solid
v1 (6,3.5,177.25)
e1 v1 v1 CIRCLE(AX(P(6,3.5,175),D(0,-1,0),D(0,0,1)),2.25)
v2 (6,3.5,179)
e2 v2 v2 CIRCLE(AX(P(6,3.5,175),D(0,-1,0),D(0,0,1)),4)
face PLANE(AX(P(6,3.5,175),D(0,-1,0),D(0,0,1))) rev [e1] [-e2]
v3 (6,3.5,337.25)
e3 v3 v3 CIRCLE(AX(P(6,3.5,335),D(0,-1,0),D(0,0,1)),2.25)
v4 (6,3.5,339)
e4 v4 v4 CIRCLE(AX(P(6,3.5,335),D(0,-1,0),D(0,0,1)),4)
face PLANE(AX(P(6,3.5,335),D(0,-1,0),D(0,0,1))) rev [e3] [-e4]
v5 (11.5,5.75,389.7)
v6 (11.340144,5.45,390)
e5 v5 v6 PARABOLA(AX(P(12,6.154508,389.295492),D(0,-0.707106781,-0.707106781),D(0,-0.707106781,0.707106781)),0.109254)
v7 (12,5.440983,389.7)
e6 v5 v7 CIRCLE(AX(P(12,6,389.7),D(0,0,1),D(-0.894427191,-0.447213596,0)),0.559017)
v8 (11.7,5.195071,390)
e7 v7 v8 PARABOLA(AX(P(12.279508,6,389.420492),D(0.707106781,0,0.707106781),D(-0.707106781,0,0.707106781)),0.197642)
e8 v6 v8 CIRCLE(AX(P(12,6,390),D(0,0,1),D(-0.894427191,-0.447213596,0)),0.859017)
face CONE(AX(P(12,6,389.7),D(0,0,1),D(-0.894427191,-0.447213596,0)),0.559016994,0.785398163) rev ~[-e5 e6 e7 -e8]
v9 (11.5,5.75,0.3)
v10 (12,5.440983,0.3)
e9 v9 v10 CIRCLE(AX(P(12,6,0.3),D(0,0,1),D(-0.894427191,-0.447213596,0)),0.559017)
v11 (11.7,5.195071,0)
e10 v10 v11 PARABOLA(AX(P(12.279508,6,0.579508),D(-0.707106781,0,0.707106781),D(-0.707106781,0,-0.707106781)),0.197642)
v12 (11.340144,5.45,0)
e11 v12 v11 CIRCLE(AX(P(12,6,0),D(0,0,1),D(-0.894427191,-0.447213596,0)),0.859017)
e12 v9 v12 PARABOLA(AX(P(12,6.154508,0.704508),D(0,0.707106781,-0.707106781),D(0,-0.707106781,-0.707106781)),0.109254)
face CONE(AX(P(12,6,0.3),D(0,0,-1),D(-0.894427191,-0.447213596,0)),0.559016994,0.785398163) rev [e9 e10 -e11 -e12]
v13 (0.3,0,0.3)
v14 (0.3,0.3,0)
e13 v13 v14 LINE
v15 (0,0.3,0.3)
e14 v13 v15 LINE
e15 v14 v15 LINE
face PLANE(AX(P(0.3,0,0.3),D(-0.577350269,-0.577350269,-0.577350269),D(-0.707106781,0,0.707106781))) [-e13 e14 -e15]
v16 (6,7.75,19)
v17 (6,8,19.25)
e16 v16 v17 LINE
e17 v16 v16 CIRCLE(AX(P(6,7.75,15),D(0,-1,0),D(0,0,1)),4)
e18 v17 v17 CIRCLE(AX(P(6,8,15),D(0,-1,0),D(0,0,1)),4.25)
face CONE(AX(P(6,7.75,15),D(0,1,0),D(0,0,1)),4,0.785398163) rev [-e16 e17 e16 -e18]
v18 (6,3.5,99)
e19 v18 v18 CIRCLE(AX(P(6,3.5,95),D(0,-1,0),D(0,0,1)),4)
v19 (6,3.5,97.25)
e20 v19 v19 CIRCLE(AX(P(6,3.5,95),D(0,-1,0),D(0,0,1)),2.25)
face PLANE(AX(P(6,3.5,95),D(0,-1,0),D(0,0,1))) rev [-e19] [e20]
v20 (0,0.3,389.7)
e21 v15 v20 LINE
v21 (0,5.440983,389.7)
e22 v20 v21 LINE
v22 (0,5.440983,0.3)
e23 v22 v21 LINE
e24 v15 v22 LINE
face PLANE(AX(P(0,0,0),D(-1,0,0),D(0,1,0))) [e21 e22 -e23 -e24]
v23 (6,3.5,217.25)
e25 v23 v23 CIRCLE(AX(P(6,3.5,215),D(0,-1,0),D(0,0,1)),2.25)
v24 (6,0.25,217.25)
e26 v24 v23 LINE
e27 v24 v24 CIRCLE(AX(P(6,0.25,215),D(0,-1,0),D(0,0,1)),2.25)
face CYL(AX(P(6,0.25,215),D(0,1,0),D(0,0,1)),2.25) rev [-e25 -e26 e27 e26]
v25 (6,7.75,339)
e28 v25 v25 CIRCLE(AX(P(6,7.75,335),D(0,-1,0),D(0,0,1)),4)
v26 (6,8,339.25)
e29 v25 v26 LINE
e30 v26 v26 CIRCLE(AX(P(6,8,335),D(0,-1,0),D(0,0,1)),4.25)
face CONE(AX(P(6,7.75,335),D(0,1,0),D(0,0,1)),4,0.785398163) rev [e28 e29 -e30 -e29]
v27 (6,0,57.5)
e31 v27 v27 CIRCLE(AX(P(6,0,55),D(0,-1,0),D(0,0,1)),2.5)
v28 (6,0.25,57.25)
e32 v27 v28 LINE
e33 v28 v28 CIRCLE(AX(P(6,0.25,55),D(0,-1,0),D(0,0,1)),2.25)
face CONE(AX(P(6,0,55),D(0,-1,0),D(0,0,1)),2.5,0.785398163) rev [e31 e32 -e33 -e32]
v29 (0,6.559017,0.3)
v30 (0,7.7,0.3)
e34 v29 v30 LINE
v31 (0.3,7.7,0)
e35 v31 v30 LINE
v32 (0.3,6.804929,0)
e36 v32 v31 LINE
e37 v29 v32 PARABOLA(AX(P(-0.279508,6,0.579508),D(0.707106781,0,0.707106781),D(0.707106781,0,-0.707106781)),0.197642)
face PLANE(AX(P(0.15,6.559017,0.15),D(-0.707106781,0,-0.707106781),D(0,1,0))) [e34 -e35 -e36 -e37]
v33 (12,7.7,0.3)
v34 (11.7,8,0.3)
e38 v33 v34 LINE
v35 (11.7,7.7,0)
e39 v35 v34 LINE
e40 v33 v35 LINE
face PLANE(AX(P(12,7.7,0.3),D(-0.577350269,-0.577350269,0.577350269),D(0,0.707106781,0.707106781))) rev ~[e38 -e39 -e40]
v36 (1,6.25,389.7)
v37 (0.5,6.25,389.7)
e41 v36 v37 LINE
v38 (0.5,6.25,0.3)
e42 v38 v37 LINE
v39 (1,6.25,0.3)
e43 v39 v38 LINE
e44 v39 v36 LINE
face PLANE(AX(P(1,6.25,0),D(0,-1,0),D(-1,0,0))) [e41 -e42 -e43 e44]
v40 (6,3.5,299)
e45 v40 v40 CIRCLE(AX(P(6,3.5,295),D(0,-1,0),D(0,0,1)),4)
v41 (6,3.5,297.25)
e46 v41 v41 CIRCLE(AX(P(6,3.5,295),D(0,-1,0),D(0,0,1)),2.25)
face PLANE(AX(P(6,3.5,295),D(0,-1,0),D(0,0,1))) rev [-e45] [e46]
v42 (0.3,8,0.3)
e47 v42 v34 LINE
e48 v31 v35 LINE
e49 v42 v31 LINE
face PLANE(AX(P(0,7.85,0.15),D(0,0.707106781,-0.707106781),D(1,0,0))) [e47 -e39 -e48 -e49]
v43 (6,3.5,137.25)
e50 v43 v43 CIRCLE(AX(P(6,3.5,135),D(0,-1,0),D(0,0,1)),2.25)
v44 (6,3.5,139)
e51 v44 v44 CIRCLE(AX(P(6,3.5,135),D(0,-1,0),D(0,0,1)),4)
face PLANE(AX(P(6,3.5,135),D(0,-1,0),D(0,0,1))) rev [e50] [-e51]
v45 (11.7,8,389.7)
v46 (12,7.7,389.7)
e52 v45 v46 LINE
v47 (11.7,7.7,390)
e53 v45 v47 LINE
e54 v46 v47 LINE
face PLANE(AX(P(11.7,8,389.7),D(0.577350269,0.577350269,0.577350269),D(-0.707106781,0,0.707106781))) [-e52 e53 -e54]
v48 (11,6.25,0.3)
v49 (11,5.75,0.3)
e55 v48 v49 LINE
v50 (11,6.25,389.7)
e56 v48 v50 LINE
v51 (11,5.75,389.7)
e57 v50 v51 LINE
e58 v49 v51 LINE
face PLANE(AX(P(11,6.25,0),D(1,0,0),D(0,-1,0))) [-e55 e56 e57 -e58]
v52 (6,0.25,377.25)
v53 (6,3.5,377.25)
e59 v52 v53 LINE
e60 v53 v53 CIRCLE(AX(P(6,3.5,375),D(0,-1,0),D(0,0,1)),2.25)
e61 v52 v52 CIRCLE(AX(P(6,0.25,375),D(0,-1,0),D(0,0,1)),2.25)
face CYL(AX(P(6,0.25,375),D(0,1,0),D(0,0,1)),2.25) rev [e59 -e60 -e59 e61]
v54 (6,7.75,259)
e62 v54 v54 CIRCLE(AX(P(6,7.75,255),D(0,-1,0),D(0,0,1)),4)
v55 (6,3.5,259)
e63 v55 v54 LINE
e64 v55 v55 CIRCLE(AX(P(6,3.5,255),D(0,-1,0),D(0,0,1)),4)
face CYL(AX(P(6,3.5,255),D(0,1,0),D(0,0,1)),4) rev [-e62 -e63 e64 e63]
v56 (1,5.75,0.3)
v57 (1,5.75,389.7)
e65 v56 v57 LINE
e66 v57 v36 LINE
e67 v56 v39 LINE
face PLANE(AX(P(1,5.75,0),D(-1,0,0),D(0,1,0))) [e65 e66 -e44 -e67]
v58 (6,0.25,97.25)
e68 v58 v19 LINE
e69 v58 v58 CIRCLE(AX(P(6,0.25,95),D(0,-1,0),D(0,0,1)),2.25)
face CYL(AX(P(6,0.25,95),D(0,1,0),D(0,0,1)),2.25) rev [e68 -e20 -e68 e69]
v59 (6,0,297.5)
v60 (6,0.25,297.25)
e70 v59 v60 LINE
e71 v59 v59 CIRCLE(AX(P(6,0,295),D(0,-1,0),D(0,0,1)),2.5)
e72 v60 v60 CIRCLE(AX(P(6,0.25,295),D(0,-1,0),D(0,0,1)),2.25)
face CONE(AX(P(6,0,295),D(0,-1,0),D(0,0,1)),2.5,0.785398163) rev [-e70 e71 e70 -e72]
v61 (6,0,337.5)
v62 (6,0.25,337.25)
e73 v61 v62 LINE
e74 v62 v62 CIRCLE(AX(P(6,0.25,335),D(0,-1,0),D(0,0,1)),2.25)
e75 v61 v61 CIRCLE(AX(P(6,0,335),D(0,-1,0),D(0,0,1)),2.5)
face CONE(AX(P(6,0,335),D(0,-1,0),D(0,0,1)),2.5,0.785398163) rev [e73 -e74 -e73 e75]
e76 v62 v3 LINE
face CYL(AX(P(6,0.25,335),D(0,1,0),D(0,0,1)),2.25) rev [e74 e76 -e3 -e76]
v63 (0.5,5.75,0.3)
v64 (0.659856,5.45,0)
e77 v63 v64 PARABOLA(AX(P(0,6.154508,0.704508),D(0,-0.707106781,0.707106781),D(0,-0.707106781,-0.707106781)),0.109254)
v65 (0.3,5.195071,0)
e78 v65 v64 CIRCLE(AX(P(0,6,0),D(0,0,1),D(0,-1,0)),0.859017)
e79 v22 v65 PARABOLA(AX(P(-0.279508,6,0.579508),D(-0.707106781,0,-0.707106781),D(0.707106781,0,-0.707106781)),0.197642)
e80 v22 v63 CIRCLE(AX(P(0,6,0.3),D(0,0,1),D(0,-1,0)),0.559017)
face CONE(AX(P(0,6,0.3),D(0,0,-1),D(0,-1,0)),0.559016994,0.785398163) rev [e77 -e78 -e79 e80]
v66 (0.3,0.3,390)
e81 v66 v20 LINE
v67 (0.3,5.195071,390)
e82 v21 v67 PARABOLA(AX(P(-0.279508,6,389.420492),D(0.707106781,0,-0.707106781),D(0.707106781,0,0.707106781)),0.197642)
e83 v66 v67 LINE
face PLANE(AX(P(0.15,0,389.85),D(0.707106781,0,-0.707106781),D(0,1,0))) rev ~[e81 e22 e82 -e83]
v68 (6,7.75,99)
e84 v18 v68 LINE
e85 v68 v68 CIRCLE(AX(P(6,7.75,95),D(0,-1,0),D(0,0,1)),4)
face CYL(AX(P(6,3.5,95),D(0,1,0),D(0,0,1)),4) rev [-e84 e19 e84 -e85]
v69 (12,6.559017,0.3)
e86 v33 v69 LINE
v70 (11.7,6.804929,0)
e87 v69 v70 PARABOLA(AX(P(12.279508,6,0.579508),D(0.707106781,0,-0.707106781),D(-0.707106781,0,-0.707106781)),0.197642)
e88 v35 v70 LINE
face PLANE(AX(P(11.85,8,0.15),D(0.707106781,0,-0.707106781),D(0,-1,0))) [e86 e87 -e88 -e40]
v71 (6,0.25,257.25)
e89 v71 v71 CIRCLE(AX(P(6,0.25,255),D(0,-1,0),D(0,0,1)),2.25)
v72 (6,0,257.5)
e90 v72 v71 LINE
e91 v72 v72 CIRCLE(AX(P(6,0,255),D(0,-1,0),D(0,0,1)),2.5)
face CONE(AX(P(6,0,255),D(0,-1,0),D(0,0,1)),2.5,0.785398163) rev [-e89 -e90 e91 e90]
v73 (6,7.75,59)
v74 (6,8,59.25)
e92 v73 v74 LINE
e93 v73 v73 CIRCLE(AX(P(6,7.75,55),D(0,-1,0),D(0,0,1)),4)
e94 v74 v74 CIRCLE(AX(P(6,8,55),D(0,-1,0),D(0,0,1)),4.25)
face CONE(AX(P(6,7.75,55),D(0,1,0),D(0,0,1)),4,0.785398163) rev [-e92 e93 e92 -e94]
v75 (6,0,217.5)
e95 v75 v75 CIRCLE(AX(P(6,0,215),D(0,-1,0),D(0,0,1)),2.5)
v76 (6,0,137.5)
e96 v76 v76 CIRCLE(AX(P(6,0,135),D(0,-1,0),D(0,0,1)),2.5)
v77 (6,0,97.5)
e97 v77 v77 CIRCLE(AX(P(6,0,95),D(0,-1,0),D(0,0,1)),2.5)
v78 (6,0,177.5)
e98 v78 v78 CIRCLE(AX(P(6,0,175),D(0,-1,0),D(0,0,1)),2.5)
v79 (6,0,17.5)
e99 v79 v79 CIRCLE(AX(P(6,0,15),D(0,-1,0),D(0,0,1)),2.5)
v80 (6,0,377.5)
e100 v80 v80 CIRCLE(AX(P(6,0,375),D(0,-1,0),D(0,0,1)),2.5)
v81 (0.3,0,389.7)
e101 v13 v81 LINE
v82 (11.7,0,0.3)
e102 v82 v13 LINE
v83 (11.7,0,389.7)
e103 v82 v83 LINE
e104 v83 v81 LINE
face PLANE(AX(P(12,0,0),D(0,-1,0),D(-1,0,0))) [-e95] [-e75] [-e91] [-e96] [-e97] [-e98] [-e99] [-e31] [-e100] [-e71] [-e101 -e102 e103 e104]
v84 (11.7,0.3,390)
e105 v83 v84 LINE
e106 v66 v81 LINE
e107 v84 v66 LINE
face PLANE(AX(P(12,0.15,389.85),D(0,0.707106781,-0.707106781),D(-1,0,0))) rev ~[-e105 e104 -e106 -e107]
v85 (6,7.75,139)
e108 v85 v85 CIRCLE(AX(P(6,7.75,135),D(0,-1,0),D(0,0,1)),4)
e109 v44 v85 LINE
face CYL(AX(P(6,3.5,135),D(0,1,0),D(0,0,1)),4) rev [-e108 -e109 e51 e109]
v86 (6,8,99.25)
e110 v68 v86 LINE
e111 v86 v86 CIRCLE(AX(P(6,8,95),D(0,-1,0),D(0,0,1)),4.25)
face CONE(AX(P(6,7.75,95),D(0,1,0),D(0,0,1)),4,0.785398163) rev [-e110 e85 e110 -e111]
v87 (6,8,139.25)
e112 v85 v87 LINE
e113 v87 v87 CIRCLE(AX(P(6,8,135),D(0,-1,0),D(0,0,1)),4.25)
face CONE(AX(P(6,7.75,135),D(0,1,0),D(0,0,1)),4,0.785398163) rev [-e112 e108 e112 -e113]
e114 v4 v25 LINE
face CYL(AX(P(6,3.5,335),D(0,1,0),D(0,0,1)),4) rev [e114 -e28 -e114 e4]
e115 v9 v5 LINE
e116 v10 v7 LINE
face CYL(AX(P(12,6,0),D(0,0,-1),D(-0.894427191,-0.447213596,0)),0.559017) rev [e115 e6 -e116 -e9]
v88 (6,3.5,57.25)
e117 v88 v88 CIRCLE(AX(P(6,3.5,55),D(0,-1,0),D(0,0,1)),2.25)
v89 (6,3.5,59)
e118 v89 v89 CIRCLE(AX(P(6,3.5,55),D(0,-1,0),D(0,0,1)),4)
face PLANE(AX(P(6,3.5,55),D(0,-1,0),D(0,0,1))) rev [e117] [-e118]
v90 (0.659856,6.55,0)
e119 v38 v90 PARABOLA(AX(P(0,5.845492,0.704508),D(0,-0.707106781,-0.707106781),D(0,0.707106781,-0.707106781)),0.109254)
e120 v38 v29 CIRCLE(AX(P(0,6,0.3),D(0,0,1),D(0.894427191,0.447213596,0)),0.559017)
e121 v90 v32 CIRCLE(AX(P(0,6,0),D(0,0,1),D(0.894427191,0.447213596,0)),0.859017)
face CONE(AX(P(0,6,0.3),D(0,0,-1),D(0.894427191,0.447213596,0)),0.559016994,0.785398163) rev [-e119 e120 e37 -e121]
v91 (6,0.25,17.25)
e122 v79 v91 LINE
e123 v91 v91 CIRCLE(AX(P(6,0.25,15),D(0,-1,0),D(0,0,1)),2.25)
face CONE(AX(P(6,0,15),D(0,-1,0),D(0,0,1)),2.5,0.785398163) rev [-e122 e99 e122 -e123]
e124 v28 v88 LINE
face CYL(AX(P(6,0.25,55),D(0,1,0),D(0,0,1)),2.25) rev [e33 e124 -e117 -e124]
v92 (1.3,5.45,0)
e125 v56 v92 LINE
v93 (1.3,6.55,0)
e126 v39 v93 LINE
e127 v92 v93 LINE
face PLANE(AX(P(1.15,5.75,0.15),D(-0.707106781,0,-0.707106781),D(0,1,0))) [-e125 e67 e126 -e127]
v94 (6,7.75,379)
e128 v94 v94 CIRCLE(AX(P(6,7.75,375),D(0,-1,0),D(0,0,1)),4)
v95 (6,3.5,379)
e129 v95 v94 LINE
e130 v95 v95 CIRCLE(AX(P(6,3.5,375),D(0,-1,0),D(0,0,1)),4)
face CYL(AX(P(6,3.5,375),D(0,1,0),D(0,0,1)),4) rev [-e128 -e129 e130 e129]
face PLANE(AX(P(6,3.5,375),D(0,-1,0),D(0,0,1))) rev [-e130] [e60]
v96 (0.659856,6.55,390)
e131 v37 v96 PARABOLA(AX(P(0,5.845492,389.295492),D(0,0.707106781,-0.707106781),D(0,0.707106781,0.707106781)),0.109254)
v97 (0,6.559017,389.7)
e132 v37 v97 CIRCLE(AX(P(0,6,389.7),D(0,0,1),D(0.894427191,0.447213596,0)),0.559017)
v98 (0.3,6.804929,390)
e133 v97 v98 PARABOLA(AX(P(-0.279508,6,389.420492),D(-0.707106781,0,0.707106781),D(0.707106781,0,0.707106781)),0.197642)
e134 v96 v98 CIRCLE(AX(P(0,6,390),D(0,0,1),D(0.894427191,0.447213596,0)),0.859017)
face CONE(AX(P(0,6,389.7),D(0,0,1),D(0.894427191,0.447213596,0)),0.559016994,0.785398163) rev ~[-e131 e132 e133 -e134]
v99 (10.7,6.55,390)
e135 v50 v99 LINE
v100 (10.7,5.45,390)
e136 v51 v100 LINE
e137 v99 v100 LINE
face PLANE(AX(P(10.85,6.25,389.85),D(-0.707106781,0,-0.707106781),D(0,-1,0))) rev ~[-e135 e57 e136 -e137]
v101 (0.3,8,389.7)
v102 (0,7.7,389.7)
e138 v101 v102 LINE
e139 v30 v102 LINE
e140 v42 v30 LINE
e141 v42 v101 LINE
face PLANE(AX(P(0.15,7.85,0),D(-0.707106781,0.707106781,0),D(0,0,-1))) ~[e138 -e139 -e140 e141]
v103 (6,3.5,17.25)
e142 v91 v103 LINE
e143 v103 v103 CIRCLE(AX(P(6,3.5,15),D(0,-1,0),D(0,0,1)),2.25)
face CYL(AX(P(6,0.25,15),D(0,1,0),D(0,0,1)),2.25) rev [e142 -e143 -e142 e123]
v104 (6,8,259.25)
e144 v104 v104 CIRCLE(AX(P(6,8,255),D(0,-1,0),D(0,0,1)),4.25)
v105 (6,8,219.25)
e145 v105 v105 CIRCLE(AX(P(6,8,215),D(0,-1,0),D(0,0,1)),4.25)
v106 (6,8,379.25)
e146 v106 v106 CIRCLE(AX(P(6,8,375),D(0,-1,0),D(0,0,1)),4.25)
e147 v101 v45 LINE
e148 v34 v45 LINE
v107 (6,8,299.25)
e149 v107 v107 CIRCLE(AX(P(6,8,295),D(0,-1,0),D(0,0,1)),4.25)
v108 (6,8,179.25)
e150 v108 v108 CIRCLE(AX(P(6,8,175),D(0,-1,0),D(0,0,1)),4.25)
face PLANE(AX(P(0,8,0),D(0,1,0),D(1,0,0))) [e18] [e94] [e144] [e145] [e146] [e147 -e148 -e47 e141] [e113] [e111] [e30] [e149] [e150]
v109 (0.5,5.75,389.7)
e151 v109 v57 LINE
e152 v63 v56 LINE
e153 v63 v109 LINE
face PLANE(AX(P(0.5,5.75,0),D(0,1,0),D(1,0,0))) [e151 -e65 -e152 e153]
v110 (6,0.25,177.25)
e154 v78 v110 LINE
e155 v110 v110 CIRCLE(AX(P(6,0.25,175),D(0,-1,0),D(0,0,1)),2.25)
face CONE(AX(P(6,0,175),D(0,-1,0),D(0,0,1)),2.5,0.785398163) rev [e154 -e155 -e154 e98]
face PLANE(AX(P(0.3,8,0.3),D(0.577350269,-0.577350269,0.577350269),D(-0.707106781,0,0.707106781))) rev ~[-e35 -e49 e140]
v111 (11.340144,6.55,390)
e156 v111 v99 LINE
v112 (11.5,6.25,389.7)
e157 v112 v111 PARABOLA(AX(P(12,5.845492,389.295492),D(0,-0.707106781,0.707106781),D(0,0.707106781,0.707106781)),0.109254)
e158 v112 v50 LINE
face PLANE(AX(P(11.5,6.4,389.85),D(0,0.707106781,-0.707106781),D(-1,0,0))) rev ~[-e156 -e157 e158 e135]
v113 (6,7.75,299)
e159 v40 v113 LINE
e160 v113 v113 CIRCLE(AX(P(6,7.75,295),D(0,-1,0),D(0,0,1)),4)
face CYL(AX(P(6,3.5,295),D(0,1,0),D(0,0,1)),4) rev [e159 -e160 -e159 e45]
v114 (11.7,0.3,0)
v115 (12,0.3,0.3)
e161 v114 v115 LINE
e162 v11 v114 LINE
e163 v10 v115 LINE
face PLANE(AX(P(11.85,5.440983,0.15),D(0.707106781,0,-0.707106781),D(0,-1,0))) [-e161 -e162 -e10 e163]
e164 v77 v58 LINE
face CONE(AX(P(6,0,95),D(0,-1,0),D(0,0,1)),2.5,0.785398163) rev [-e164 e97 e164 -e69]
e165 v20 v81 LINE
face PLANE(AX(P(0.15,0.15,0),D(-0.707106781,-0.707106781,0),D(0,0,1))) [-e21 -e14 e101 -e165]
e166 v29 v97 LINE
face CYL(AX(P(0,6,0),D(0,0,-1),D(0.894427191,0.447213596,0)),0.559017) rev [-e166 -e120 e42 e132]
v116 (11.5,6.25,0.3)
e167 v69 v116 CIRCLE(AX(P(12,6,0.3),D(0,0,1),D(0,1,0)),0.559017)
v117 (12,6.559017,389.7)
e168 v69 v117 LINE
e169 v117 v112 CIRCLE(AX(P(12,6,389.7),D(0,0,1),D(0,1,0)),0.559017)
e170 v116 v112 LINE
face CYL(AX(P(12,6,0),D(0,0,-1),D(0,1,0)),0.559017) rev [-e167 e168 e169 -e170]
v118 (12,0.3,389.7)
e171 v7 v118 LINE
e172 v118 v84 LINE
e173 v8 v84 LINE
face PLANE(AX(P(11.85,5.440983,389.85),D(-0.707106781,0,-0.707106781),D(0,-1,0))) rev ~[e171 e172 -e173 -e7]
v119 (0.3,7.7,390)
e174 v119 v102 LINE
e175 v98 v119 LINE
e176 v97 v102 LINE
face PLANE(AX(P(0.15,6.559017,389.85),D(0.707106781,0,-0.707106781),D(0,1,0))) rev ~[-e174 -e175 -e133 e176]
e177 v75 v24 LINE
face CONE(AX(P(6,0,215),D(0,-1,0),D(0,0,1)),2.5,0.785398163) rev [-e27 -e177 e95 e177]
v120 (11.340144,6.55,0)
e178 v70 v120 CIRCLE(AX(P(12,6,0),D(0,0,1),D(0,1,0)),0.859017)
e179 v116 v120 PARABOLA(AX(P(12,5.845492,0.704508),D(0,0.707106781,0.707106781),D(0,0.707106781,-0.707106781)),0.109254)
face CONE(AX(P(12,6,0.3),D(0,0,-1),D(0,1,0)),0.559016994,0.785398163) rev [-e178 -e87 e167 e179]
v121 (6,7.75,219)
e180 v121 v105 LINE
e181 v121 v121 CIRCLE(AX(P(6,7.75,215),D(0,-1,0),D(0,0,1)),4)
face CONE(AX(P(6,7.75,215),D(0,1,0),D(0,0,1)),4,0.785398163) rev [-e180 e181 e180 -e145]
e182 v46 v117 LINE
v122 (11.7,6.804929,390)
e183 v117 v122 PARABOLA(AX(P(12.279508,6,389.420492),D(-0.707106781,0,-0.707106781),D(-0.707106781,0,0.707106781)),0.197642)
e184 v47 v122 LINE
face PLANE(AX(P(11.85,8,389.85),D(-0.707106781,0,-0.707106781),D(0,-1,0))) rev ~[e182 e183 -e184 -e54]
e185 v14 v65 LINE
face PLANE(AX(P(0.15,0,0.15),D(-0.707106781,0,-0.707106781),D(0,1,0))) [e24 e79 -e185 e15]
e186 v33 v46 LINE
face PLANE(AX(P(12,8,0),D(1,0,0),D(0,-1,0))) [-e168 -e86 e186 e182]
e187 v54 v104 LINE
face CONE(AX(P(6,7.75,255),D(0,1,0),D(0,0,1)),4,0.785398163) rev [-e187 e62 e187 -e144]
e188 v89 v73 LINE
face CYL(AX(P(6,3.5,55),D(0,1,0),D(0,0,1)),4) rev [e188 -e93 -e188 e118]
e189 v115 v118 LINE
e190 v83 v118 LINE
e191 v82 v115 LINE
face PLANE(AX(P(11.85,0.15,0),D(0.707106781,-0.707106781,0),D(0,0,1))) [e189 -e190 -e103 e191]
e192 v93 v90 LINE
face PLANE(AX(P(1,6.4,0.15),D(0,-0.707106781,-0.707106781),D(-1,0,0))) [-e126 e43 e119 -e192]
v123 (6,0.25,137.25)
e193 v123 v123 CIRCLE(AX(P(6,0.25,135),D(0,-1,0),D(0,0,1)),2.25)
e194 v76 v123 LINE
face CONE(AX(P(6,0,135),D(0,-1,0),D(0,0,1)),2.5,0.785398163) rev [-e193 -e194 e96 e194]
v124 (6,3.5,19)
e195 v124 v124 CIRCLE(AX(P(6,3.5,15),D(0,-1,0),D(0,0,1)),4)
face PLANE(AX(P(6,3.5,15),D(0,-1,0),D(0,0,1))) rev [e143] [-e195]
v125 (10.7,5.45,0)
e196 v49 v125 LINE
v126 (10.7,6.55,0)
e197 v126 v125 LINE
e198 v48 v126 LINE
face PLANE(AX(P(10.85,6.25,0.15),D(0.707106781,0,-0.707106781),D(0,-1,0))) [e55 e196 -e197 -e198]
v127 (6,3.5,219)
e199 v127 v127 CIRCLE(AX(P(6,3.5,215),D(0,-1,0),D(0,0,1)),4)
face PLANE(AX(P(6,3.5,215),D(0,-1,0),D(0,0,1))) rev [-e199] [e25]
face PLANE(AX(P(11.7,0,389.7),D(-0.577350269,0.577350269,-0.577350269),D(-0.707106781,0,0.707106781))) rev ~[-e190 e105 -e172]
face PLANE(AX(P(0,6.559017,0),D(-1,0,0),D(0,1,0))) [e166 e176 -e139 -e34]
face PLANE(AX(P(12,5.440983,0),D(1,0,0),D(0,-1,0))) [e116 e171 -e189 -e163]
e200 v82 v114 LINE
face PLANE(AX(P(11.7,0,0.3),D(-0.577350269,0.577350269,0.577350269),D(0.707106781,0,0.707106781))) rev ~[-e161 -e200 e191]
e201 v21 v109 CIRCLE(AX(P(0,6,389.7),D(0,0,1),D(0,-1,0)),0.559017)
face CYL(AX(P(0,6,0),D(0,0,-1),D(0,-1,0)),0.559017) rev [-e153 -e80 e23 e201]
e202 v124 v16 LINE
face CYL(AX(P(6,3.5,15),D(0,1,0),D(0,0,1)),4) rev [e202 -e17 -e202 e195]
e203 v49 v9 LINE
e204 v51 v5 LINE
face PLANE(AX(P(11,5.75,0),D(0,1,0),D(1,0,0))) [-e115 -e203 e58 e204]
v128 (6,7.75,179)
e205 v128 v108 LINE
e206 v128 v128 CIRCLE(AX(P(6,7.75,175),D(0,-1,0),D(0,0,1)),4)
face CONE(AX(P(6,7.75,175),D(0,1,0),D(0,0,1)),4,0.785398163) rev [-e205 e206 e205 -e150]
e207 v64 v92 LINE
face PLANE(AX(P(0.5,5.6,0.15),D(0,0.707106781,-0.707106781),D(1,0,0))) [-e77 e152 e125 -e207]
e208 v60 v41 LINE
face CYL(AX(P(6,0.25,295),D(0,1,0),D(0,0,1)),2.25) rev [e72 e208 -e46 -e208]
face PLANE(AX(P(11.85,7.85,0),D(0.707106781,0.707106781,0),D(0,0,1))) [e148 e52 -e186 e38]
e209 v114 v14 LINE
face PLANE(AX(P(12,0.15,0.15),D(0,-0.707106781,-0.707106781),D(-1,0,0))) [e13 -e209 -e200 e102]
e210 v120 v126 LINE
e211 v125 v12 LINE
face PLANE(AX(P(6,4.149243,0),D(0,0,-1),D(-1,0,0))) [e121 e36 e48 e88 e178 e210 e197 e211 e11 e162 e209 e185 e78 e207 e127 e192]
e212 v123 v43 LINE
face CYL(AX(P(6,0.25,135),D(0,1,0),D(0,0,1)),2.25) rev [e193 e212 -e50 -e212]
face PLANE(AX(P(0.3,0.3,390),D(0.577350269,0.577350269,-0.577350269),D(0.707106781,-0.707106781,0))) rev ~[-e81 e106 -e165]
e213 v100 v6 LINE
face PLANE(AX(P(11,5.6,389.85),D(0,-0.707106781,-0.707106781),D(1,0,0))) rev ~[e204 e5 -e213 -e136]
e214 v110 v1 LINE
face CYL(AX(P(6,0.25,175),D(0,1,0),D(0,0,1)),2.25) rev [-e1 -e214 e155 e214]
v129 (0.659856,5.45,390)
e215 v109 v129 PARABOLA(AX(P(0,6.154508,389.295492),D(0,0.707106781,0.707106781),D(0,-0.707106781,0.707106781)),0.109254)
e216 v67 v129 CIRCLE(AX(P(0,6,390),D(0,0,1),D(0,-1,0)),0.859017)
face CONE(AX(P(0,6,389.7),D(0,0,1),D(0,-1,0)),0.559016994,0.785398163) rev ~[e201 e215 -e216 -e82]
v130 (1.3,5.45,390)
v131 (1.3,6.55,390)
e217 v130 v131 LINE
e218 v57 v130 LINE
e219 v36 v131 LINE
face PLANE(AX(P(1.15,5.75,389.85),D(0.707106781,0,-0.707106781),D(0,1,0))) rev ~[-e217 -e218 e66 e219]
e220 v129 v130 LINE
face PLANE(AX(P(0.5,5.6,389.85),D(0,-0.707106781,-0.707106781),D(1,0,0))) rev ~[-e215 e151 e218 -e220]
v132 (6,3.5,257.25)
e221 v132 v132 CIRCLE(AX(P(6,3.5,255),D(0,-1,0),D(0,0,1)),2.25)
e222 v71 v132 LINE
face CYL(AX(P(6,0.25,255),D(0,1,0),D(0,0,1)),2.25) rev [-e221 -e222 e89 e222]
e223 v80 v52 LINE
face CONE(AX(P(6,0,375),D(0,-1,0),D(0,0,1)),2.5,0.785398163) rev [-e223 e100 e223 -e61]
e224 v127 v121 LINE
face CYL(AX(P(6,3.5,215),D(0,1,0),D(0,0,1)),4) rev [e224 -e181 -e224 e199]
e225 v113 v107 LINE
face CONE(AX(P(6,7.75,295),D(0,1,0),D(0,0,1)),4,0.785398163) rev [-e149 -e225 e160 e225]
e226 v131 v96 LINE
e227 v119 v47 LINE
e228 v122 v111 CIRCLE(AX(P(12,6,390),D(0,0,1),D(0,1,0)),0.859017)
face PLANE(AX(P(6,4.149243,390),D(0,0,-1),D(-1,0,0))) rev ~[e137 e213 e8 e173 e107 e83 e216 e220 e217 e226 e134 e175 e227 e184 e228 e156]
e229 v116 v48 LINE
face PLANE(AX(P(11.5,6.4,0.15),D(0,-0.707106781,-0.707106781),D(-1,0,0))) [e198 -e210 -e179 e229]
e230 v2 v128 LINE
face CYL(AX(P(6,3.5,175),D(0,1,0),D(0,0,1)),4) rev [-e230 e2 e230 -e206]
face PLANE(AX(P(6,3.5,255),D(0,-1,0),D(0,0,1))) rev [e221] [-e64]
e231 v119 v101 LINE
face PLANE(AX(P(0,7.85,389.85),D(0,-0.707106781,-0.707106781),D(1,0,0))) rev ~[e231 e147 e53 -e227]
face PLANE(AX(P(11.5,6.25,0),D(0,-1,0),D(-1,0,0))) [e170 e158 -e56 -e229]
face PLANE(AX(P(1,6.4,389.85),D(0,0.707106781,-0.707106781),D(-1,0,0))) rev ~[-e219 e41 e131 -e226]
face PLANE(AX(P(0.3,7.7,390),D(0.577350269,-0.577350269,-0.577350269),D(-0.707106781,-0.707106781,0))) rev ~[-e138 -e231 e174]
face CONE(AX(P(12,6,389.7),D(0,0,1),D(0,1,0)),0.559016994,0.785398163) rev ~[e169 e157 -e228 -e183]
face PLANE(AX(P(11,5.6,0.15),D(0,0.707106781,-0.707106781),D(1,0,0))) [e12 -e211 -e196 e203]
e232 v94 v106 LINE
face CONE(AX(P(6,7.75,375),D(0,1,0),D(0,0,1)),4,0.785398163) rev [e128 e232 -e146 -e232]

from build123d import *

# Parameters (mm, degrees)
BOSS_EXTRUDE1_DEPTH = 390
CHAMFER1_SIZE       = 0.3
LPATTERN1_COUNT     = 10
LPATTERN1_PITCH     = 40


with BuildPart() as part:
    # Sketch1 → Boss-Extrude1 (new body)
    with BuildSketch(Plane.XY):
        with BuildLine():
            Line((0, 8), (12, 8))
            Line((12, 8), (12, 6.75))
            Line((12, 6.75), (12, 6.559016994))
            ThreePointArc((12, 6.559016994), (11.706107374, 6.475528258), (11.5, 6.25))
            Line((11.5, 6.25), (11, 6.25))
            Line((11, 6.25), (11, 5.75))
            Line((11, 5.75), (11.5, 5.75))
            ThreePointArc((11.5, 5.75), (11.706107374, 5.524471742), (12, 5.440983006))
            Line((12, 5.440983006), (12, 5.25))
            Line((12, 5.25), (12, 0))
            Line((12, 0), (0, 0))
            Line((0, 0), (0, 5.25))
            Line((0, 5.25), (0, 5.440983006))
            ThreePointArc((0, 5.440983006), (0.293892626, 5.524471742), (0.5, 5.75))
            Line((0.5, 5.75), (1, 5.75))
            Line((1, 5.75), (1, 6.25))
            Line((1, 6.25), (0.5, 6.25))
            ThreePointArc((0.5, 6.25), (0.293892626, 6.475528258), (0, 6.559016994))
            Line((0, 6.559016994), (0, 6.75))
            Line((0, 6.75), (0, 8))
        make_face()
    extrude(amount=BOSS_EXTRUDE1_DEPTH)

    # Chamfer1
    chamfer1_edges = [part.edges().sort_by_distance(p)[0] for p in [
        (12, 2.720491503, 390),
        (11.706107374, 5.524471742, 390),
        (0, 2.720491503, 0),
        (0.293892626, 5.524471742, 0),
        (0.75, 5.75, 0),
        (1, 6, 0),
        (0.75, 6.25, 0),
        (11.25, 5.75, 390),
        (0.293892626, 6.475528258, 0),
        (0, 7.279508497, 0),
        (6, 8, 0),
        (12, 7.279508497, 0),
        (11.706107374, 6.475528258, 0),
        (11, 6, 390),
        (11.25, 6.25, 0),
        (11, 6, 0),
        (11.25, 5.75, 0),
        (11.706107374, 5.524471742, 0),
        (12, 2.720491503, 0),
        (6, 0, 0),
        (11.25, 6.25, 390),
        (11.706107374, 6.475528258, 390),
        (12, 7.279508497, 390),
        (0, 8, 195),
        (12, 8, 195),
        (12, 0, 195),
        (0, 0, 195),
        (6, 8, 390),
        (0, 2.720491503, 390),
        (0, 7.279508497, 390),
        (0.293892626, 6.475528258, 390),
        (0.75, 6.25, 390),
        (1, 6, 390),
        (0.75, 5.75, 390),
        (0.293892626, 5.524471742, 390),
        (6, 0, 390),
    ]]
    chamfer(chamfer1_edges, length=CHAMFER1_SIZE)

    # Sketch3 → CBORE for M5 Hex Head Bolt1 (revolve, cut)
    with BuildSketch(Plane(origin=(6, 8, 15), x_dir=(0, 0, 1), z_dir=(1, 0, 0))):
        Polygon((0, 0), (0, 8), (2.5, 8), (2.25, 7.75), (2.25, 4.5), (4, 4.5), (4, 0.25), (4.25, 0), align=None)
    cbore_for_m5_hex_head_bolt1 = revolve(axis=Axis((6, 14.35, 15), (0, -1, 0)), mode=Mode.SUBTRACT)

    # LPattern1: CBORE for M5 Hex Head Bolt1 ×10
    with Locations(*[(0, 0, i * LPATTERN1_PITCH) for i in range(1, LPATTERN1_COUNT)]):
        add(cbore_for_m5_hex_head_bolt1, mode=Mode.SUBTRACT)


solid = part.part
